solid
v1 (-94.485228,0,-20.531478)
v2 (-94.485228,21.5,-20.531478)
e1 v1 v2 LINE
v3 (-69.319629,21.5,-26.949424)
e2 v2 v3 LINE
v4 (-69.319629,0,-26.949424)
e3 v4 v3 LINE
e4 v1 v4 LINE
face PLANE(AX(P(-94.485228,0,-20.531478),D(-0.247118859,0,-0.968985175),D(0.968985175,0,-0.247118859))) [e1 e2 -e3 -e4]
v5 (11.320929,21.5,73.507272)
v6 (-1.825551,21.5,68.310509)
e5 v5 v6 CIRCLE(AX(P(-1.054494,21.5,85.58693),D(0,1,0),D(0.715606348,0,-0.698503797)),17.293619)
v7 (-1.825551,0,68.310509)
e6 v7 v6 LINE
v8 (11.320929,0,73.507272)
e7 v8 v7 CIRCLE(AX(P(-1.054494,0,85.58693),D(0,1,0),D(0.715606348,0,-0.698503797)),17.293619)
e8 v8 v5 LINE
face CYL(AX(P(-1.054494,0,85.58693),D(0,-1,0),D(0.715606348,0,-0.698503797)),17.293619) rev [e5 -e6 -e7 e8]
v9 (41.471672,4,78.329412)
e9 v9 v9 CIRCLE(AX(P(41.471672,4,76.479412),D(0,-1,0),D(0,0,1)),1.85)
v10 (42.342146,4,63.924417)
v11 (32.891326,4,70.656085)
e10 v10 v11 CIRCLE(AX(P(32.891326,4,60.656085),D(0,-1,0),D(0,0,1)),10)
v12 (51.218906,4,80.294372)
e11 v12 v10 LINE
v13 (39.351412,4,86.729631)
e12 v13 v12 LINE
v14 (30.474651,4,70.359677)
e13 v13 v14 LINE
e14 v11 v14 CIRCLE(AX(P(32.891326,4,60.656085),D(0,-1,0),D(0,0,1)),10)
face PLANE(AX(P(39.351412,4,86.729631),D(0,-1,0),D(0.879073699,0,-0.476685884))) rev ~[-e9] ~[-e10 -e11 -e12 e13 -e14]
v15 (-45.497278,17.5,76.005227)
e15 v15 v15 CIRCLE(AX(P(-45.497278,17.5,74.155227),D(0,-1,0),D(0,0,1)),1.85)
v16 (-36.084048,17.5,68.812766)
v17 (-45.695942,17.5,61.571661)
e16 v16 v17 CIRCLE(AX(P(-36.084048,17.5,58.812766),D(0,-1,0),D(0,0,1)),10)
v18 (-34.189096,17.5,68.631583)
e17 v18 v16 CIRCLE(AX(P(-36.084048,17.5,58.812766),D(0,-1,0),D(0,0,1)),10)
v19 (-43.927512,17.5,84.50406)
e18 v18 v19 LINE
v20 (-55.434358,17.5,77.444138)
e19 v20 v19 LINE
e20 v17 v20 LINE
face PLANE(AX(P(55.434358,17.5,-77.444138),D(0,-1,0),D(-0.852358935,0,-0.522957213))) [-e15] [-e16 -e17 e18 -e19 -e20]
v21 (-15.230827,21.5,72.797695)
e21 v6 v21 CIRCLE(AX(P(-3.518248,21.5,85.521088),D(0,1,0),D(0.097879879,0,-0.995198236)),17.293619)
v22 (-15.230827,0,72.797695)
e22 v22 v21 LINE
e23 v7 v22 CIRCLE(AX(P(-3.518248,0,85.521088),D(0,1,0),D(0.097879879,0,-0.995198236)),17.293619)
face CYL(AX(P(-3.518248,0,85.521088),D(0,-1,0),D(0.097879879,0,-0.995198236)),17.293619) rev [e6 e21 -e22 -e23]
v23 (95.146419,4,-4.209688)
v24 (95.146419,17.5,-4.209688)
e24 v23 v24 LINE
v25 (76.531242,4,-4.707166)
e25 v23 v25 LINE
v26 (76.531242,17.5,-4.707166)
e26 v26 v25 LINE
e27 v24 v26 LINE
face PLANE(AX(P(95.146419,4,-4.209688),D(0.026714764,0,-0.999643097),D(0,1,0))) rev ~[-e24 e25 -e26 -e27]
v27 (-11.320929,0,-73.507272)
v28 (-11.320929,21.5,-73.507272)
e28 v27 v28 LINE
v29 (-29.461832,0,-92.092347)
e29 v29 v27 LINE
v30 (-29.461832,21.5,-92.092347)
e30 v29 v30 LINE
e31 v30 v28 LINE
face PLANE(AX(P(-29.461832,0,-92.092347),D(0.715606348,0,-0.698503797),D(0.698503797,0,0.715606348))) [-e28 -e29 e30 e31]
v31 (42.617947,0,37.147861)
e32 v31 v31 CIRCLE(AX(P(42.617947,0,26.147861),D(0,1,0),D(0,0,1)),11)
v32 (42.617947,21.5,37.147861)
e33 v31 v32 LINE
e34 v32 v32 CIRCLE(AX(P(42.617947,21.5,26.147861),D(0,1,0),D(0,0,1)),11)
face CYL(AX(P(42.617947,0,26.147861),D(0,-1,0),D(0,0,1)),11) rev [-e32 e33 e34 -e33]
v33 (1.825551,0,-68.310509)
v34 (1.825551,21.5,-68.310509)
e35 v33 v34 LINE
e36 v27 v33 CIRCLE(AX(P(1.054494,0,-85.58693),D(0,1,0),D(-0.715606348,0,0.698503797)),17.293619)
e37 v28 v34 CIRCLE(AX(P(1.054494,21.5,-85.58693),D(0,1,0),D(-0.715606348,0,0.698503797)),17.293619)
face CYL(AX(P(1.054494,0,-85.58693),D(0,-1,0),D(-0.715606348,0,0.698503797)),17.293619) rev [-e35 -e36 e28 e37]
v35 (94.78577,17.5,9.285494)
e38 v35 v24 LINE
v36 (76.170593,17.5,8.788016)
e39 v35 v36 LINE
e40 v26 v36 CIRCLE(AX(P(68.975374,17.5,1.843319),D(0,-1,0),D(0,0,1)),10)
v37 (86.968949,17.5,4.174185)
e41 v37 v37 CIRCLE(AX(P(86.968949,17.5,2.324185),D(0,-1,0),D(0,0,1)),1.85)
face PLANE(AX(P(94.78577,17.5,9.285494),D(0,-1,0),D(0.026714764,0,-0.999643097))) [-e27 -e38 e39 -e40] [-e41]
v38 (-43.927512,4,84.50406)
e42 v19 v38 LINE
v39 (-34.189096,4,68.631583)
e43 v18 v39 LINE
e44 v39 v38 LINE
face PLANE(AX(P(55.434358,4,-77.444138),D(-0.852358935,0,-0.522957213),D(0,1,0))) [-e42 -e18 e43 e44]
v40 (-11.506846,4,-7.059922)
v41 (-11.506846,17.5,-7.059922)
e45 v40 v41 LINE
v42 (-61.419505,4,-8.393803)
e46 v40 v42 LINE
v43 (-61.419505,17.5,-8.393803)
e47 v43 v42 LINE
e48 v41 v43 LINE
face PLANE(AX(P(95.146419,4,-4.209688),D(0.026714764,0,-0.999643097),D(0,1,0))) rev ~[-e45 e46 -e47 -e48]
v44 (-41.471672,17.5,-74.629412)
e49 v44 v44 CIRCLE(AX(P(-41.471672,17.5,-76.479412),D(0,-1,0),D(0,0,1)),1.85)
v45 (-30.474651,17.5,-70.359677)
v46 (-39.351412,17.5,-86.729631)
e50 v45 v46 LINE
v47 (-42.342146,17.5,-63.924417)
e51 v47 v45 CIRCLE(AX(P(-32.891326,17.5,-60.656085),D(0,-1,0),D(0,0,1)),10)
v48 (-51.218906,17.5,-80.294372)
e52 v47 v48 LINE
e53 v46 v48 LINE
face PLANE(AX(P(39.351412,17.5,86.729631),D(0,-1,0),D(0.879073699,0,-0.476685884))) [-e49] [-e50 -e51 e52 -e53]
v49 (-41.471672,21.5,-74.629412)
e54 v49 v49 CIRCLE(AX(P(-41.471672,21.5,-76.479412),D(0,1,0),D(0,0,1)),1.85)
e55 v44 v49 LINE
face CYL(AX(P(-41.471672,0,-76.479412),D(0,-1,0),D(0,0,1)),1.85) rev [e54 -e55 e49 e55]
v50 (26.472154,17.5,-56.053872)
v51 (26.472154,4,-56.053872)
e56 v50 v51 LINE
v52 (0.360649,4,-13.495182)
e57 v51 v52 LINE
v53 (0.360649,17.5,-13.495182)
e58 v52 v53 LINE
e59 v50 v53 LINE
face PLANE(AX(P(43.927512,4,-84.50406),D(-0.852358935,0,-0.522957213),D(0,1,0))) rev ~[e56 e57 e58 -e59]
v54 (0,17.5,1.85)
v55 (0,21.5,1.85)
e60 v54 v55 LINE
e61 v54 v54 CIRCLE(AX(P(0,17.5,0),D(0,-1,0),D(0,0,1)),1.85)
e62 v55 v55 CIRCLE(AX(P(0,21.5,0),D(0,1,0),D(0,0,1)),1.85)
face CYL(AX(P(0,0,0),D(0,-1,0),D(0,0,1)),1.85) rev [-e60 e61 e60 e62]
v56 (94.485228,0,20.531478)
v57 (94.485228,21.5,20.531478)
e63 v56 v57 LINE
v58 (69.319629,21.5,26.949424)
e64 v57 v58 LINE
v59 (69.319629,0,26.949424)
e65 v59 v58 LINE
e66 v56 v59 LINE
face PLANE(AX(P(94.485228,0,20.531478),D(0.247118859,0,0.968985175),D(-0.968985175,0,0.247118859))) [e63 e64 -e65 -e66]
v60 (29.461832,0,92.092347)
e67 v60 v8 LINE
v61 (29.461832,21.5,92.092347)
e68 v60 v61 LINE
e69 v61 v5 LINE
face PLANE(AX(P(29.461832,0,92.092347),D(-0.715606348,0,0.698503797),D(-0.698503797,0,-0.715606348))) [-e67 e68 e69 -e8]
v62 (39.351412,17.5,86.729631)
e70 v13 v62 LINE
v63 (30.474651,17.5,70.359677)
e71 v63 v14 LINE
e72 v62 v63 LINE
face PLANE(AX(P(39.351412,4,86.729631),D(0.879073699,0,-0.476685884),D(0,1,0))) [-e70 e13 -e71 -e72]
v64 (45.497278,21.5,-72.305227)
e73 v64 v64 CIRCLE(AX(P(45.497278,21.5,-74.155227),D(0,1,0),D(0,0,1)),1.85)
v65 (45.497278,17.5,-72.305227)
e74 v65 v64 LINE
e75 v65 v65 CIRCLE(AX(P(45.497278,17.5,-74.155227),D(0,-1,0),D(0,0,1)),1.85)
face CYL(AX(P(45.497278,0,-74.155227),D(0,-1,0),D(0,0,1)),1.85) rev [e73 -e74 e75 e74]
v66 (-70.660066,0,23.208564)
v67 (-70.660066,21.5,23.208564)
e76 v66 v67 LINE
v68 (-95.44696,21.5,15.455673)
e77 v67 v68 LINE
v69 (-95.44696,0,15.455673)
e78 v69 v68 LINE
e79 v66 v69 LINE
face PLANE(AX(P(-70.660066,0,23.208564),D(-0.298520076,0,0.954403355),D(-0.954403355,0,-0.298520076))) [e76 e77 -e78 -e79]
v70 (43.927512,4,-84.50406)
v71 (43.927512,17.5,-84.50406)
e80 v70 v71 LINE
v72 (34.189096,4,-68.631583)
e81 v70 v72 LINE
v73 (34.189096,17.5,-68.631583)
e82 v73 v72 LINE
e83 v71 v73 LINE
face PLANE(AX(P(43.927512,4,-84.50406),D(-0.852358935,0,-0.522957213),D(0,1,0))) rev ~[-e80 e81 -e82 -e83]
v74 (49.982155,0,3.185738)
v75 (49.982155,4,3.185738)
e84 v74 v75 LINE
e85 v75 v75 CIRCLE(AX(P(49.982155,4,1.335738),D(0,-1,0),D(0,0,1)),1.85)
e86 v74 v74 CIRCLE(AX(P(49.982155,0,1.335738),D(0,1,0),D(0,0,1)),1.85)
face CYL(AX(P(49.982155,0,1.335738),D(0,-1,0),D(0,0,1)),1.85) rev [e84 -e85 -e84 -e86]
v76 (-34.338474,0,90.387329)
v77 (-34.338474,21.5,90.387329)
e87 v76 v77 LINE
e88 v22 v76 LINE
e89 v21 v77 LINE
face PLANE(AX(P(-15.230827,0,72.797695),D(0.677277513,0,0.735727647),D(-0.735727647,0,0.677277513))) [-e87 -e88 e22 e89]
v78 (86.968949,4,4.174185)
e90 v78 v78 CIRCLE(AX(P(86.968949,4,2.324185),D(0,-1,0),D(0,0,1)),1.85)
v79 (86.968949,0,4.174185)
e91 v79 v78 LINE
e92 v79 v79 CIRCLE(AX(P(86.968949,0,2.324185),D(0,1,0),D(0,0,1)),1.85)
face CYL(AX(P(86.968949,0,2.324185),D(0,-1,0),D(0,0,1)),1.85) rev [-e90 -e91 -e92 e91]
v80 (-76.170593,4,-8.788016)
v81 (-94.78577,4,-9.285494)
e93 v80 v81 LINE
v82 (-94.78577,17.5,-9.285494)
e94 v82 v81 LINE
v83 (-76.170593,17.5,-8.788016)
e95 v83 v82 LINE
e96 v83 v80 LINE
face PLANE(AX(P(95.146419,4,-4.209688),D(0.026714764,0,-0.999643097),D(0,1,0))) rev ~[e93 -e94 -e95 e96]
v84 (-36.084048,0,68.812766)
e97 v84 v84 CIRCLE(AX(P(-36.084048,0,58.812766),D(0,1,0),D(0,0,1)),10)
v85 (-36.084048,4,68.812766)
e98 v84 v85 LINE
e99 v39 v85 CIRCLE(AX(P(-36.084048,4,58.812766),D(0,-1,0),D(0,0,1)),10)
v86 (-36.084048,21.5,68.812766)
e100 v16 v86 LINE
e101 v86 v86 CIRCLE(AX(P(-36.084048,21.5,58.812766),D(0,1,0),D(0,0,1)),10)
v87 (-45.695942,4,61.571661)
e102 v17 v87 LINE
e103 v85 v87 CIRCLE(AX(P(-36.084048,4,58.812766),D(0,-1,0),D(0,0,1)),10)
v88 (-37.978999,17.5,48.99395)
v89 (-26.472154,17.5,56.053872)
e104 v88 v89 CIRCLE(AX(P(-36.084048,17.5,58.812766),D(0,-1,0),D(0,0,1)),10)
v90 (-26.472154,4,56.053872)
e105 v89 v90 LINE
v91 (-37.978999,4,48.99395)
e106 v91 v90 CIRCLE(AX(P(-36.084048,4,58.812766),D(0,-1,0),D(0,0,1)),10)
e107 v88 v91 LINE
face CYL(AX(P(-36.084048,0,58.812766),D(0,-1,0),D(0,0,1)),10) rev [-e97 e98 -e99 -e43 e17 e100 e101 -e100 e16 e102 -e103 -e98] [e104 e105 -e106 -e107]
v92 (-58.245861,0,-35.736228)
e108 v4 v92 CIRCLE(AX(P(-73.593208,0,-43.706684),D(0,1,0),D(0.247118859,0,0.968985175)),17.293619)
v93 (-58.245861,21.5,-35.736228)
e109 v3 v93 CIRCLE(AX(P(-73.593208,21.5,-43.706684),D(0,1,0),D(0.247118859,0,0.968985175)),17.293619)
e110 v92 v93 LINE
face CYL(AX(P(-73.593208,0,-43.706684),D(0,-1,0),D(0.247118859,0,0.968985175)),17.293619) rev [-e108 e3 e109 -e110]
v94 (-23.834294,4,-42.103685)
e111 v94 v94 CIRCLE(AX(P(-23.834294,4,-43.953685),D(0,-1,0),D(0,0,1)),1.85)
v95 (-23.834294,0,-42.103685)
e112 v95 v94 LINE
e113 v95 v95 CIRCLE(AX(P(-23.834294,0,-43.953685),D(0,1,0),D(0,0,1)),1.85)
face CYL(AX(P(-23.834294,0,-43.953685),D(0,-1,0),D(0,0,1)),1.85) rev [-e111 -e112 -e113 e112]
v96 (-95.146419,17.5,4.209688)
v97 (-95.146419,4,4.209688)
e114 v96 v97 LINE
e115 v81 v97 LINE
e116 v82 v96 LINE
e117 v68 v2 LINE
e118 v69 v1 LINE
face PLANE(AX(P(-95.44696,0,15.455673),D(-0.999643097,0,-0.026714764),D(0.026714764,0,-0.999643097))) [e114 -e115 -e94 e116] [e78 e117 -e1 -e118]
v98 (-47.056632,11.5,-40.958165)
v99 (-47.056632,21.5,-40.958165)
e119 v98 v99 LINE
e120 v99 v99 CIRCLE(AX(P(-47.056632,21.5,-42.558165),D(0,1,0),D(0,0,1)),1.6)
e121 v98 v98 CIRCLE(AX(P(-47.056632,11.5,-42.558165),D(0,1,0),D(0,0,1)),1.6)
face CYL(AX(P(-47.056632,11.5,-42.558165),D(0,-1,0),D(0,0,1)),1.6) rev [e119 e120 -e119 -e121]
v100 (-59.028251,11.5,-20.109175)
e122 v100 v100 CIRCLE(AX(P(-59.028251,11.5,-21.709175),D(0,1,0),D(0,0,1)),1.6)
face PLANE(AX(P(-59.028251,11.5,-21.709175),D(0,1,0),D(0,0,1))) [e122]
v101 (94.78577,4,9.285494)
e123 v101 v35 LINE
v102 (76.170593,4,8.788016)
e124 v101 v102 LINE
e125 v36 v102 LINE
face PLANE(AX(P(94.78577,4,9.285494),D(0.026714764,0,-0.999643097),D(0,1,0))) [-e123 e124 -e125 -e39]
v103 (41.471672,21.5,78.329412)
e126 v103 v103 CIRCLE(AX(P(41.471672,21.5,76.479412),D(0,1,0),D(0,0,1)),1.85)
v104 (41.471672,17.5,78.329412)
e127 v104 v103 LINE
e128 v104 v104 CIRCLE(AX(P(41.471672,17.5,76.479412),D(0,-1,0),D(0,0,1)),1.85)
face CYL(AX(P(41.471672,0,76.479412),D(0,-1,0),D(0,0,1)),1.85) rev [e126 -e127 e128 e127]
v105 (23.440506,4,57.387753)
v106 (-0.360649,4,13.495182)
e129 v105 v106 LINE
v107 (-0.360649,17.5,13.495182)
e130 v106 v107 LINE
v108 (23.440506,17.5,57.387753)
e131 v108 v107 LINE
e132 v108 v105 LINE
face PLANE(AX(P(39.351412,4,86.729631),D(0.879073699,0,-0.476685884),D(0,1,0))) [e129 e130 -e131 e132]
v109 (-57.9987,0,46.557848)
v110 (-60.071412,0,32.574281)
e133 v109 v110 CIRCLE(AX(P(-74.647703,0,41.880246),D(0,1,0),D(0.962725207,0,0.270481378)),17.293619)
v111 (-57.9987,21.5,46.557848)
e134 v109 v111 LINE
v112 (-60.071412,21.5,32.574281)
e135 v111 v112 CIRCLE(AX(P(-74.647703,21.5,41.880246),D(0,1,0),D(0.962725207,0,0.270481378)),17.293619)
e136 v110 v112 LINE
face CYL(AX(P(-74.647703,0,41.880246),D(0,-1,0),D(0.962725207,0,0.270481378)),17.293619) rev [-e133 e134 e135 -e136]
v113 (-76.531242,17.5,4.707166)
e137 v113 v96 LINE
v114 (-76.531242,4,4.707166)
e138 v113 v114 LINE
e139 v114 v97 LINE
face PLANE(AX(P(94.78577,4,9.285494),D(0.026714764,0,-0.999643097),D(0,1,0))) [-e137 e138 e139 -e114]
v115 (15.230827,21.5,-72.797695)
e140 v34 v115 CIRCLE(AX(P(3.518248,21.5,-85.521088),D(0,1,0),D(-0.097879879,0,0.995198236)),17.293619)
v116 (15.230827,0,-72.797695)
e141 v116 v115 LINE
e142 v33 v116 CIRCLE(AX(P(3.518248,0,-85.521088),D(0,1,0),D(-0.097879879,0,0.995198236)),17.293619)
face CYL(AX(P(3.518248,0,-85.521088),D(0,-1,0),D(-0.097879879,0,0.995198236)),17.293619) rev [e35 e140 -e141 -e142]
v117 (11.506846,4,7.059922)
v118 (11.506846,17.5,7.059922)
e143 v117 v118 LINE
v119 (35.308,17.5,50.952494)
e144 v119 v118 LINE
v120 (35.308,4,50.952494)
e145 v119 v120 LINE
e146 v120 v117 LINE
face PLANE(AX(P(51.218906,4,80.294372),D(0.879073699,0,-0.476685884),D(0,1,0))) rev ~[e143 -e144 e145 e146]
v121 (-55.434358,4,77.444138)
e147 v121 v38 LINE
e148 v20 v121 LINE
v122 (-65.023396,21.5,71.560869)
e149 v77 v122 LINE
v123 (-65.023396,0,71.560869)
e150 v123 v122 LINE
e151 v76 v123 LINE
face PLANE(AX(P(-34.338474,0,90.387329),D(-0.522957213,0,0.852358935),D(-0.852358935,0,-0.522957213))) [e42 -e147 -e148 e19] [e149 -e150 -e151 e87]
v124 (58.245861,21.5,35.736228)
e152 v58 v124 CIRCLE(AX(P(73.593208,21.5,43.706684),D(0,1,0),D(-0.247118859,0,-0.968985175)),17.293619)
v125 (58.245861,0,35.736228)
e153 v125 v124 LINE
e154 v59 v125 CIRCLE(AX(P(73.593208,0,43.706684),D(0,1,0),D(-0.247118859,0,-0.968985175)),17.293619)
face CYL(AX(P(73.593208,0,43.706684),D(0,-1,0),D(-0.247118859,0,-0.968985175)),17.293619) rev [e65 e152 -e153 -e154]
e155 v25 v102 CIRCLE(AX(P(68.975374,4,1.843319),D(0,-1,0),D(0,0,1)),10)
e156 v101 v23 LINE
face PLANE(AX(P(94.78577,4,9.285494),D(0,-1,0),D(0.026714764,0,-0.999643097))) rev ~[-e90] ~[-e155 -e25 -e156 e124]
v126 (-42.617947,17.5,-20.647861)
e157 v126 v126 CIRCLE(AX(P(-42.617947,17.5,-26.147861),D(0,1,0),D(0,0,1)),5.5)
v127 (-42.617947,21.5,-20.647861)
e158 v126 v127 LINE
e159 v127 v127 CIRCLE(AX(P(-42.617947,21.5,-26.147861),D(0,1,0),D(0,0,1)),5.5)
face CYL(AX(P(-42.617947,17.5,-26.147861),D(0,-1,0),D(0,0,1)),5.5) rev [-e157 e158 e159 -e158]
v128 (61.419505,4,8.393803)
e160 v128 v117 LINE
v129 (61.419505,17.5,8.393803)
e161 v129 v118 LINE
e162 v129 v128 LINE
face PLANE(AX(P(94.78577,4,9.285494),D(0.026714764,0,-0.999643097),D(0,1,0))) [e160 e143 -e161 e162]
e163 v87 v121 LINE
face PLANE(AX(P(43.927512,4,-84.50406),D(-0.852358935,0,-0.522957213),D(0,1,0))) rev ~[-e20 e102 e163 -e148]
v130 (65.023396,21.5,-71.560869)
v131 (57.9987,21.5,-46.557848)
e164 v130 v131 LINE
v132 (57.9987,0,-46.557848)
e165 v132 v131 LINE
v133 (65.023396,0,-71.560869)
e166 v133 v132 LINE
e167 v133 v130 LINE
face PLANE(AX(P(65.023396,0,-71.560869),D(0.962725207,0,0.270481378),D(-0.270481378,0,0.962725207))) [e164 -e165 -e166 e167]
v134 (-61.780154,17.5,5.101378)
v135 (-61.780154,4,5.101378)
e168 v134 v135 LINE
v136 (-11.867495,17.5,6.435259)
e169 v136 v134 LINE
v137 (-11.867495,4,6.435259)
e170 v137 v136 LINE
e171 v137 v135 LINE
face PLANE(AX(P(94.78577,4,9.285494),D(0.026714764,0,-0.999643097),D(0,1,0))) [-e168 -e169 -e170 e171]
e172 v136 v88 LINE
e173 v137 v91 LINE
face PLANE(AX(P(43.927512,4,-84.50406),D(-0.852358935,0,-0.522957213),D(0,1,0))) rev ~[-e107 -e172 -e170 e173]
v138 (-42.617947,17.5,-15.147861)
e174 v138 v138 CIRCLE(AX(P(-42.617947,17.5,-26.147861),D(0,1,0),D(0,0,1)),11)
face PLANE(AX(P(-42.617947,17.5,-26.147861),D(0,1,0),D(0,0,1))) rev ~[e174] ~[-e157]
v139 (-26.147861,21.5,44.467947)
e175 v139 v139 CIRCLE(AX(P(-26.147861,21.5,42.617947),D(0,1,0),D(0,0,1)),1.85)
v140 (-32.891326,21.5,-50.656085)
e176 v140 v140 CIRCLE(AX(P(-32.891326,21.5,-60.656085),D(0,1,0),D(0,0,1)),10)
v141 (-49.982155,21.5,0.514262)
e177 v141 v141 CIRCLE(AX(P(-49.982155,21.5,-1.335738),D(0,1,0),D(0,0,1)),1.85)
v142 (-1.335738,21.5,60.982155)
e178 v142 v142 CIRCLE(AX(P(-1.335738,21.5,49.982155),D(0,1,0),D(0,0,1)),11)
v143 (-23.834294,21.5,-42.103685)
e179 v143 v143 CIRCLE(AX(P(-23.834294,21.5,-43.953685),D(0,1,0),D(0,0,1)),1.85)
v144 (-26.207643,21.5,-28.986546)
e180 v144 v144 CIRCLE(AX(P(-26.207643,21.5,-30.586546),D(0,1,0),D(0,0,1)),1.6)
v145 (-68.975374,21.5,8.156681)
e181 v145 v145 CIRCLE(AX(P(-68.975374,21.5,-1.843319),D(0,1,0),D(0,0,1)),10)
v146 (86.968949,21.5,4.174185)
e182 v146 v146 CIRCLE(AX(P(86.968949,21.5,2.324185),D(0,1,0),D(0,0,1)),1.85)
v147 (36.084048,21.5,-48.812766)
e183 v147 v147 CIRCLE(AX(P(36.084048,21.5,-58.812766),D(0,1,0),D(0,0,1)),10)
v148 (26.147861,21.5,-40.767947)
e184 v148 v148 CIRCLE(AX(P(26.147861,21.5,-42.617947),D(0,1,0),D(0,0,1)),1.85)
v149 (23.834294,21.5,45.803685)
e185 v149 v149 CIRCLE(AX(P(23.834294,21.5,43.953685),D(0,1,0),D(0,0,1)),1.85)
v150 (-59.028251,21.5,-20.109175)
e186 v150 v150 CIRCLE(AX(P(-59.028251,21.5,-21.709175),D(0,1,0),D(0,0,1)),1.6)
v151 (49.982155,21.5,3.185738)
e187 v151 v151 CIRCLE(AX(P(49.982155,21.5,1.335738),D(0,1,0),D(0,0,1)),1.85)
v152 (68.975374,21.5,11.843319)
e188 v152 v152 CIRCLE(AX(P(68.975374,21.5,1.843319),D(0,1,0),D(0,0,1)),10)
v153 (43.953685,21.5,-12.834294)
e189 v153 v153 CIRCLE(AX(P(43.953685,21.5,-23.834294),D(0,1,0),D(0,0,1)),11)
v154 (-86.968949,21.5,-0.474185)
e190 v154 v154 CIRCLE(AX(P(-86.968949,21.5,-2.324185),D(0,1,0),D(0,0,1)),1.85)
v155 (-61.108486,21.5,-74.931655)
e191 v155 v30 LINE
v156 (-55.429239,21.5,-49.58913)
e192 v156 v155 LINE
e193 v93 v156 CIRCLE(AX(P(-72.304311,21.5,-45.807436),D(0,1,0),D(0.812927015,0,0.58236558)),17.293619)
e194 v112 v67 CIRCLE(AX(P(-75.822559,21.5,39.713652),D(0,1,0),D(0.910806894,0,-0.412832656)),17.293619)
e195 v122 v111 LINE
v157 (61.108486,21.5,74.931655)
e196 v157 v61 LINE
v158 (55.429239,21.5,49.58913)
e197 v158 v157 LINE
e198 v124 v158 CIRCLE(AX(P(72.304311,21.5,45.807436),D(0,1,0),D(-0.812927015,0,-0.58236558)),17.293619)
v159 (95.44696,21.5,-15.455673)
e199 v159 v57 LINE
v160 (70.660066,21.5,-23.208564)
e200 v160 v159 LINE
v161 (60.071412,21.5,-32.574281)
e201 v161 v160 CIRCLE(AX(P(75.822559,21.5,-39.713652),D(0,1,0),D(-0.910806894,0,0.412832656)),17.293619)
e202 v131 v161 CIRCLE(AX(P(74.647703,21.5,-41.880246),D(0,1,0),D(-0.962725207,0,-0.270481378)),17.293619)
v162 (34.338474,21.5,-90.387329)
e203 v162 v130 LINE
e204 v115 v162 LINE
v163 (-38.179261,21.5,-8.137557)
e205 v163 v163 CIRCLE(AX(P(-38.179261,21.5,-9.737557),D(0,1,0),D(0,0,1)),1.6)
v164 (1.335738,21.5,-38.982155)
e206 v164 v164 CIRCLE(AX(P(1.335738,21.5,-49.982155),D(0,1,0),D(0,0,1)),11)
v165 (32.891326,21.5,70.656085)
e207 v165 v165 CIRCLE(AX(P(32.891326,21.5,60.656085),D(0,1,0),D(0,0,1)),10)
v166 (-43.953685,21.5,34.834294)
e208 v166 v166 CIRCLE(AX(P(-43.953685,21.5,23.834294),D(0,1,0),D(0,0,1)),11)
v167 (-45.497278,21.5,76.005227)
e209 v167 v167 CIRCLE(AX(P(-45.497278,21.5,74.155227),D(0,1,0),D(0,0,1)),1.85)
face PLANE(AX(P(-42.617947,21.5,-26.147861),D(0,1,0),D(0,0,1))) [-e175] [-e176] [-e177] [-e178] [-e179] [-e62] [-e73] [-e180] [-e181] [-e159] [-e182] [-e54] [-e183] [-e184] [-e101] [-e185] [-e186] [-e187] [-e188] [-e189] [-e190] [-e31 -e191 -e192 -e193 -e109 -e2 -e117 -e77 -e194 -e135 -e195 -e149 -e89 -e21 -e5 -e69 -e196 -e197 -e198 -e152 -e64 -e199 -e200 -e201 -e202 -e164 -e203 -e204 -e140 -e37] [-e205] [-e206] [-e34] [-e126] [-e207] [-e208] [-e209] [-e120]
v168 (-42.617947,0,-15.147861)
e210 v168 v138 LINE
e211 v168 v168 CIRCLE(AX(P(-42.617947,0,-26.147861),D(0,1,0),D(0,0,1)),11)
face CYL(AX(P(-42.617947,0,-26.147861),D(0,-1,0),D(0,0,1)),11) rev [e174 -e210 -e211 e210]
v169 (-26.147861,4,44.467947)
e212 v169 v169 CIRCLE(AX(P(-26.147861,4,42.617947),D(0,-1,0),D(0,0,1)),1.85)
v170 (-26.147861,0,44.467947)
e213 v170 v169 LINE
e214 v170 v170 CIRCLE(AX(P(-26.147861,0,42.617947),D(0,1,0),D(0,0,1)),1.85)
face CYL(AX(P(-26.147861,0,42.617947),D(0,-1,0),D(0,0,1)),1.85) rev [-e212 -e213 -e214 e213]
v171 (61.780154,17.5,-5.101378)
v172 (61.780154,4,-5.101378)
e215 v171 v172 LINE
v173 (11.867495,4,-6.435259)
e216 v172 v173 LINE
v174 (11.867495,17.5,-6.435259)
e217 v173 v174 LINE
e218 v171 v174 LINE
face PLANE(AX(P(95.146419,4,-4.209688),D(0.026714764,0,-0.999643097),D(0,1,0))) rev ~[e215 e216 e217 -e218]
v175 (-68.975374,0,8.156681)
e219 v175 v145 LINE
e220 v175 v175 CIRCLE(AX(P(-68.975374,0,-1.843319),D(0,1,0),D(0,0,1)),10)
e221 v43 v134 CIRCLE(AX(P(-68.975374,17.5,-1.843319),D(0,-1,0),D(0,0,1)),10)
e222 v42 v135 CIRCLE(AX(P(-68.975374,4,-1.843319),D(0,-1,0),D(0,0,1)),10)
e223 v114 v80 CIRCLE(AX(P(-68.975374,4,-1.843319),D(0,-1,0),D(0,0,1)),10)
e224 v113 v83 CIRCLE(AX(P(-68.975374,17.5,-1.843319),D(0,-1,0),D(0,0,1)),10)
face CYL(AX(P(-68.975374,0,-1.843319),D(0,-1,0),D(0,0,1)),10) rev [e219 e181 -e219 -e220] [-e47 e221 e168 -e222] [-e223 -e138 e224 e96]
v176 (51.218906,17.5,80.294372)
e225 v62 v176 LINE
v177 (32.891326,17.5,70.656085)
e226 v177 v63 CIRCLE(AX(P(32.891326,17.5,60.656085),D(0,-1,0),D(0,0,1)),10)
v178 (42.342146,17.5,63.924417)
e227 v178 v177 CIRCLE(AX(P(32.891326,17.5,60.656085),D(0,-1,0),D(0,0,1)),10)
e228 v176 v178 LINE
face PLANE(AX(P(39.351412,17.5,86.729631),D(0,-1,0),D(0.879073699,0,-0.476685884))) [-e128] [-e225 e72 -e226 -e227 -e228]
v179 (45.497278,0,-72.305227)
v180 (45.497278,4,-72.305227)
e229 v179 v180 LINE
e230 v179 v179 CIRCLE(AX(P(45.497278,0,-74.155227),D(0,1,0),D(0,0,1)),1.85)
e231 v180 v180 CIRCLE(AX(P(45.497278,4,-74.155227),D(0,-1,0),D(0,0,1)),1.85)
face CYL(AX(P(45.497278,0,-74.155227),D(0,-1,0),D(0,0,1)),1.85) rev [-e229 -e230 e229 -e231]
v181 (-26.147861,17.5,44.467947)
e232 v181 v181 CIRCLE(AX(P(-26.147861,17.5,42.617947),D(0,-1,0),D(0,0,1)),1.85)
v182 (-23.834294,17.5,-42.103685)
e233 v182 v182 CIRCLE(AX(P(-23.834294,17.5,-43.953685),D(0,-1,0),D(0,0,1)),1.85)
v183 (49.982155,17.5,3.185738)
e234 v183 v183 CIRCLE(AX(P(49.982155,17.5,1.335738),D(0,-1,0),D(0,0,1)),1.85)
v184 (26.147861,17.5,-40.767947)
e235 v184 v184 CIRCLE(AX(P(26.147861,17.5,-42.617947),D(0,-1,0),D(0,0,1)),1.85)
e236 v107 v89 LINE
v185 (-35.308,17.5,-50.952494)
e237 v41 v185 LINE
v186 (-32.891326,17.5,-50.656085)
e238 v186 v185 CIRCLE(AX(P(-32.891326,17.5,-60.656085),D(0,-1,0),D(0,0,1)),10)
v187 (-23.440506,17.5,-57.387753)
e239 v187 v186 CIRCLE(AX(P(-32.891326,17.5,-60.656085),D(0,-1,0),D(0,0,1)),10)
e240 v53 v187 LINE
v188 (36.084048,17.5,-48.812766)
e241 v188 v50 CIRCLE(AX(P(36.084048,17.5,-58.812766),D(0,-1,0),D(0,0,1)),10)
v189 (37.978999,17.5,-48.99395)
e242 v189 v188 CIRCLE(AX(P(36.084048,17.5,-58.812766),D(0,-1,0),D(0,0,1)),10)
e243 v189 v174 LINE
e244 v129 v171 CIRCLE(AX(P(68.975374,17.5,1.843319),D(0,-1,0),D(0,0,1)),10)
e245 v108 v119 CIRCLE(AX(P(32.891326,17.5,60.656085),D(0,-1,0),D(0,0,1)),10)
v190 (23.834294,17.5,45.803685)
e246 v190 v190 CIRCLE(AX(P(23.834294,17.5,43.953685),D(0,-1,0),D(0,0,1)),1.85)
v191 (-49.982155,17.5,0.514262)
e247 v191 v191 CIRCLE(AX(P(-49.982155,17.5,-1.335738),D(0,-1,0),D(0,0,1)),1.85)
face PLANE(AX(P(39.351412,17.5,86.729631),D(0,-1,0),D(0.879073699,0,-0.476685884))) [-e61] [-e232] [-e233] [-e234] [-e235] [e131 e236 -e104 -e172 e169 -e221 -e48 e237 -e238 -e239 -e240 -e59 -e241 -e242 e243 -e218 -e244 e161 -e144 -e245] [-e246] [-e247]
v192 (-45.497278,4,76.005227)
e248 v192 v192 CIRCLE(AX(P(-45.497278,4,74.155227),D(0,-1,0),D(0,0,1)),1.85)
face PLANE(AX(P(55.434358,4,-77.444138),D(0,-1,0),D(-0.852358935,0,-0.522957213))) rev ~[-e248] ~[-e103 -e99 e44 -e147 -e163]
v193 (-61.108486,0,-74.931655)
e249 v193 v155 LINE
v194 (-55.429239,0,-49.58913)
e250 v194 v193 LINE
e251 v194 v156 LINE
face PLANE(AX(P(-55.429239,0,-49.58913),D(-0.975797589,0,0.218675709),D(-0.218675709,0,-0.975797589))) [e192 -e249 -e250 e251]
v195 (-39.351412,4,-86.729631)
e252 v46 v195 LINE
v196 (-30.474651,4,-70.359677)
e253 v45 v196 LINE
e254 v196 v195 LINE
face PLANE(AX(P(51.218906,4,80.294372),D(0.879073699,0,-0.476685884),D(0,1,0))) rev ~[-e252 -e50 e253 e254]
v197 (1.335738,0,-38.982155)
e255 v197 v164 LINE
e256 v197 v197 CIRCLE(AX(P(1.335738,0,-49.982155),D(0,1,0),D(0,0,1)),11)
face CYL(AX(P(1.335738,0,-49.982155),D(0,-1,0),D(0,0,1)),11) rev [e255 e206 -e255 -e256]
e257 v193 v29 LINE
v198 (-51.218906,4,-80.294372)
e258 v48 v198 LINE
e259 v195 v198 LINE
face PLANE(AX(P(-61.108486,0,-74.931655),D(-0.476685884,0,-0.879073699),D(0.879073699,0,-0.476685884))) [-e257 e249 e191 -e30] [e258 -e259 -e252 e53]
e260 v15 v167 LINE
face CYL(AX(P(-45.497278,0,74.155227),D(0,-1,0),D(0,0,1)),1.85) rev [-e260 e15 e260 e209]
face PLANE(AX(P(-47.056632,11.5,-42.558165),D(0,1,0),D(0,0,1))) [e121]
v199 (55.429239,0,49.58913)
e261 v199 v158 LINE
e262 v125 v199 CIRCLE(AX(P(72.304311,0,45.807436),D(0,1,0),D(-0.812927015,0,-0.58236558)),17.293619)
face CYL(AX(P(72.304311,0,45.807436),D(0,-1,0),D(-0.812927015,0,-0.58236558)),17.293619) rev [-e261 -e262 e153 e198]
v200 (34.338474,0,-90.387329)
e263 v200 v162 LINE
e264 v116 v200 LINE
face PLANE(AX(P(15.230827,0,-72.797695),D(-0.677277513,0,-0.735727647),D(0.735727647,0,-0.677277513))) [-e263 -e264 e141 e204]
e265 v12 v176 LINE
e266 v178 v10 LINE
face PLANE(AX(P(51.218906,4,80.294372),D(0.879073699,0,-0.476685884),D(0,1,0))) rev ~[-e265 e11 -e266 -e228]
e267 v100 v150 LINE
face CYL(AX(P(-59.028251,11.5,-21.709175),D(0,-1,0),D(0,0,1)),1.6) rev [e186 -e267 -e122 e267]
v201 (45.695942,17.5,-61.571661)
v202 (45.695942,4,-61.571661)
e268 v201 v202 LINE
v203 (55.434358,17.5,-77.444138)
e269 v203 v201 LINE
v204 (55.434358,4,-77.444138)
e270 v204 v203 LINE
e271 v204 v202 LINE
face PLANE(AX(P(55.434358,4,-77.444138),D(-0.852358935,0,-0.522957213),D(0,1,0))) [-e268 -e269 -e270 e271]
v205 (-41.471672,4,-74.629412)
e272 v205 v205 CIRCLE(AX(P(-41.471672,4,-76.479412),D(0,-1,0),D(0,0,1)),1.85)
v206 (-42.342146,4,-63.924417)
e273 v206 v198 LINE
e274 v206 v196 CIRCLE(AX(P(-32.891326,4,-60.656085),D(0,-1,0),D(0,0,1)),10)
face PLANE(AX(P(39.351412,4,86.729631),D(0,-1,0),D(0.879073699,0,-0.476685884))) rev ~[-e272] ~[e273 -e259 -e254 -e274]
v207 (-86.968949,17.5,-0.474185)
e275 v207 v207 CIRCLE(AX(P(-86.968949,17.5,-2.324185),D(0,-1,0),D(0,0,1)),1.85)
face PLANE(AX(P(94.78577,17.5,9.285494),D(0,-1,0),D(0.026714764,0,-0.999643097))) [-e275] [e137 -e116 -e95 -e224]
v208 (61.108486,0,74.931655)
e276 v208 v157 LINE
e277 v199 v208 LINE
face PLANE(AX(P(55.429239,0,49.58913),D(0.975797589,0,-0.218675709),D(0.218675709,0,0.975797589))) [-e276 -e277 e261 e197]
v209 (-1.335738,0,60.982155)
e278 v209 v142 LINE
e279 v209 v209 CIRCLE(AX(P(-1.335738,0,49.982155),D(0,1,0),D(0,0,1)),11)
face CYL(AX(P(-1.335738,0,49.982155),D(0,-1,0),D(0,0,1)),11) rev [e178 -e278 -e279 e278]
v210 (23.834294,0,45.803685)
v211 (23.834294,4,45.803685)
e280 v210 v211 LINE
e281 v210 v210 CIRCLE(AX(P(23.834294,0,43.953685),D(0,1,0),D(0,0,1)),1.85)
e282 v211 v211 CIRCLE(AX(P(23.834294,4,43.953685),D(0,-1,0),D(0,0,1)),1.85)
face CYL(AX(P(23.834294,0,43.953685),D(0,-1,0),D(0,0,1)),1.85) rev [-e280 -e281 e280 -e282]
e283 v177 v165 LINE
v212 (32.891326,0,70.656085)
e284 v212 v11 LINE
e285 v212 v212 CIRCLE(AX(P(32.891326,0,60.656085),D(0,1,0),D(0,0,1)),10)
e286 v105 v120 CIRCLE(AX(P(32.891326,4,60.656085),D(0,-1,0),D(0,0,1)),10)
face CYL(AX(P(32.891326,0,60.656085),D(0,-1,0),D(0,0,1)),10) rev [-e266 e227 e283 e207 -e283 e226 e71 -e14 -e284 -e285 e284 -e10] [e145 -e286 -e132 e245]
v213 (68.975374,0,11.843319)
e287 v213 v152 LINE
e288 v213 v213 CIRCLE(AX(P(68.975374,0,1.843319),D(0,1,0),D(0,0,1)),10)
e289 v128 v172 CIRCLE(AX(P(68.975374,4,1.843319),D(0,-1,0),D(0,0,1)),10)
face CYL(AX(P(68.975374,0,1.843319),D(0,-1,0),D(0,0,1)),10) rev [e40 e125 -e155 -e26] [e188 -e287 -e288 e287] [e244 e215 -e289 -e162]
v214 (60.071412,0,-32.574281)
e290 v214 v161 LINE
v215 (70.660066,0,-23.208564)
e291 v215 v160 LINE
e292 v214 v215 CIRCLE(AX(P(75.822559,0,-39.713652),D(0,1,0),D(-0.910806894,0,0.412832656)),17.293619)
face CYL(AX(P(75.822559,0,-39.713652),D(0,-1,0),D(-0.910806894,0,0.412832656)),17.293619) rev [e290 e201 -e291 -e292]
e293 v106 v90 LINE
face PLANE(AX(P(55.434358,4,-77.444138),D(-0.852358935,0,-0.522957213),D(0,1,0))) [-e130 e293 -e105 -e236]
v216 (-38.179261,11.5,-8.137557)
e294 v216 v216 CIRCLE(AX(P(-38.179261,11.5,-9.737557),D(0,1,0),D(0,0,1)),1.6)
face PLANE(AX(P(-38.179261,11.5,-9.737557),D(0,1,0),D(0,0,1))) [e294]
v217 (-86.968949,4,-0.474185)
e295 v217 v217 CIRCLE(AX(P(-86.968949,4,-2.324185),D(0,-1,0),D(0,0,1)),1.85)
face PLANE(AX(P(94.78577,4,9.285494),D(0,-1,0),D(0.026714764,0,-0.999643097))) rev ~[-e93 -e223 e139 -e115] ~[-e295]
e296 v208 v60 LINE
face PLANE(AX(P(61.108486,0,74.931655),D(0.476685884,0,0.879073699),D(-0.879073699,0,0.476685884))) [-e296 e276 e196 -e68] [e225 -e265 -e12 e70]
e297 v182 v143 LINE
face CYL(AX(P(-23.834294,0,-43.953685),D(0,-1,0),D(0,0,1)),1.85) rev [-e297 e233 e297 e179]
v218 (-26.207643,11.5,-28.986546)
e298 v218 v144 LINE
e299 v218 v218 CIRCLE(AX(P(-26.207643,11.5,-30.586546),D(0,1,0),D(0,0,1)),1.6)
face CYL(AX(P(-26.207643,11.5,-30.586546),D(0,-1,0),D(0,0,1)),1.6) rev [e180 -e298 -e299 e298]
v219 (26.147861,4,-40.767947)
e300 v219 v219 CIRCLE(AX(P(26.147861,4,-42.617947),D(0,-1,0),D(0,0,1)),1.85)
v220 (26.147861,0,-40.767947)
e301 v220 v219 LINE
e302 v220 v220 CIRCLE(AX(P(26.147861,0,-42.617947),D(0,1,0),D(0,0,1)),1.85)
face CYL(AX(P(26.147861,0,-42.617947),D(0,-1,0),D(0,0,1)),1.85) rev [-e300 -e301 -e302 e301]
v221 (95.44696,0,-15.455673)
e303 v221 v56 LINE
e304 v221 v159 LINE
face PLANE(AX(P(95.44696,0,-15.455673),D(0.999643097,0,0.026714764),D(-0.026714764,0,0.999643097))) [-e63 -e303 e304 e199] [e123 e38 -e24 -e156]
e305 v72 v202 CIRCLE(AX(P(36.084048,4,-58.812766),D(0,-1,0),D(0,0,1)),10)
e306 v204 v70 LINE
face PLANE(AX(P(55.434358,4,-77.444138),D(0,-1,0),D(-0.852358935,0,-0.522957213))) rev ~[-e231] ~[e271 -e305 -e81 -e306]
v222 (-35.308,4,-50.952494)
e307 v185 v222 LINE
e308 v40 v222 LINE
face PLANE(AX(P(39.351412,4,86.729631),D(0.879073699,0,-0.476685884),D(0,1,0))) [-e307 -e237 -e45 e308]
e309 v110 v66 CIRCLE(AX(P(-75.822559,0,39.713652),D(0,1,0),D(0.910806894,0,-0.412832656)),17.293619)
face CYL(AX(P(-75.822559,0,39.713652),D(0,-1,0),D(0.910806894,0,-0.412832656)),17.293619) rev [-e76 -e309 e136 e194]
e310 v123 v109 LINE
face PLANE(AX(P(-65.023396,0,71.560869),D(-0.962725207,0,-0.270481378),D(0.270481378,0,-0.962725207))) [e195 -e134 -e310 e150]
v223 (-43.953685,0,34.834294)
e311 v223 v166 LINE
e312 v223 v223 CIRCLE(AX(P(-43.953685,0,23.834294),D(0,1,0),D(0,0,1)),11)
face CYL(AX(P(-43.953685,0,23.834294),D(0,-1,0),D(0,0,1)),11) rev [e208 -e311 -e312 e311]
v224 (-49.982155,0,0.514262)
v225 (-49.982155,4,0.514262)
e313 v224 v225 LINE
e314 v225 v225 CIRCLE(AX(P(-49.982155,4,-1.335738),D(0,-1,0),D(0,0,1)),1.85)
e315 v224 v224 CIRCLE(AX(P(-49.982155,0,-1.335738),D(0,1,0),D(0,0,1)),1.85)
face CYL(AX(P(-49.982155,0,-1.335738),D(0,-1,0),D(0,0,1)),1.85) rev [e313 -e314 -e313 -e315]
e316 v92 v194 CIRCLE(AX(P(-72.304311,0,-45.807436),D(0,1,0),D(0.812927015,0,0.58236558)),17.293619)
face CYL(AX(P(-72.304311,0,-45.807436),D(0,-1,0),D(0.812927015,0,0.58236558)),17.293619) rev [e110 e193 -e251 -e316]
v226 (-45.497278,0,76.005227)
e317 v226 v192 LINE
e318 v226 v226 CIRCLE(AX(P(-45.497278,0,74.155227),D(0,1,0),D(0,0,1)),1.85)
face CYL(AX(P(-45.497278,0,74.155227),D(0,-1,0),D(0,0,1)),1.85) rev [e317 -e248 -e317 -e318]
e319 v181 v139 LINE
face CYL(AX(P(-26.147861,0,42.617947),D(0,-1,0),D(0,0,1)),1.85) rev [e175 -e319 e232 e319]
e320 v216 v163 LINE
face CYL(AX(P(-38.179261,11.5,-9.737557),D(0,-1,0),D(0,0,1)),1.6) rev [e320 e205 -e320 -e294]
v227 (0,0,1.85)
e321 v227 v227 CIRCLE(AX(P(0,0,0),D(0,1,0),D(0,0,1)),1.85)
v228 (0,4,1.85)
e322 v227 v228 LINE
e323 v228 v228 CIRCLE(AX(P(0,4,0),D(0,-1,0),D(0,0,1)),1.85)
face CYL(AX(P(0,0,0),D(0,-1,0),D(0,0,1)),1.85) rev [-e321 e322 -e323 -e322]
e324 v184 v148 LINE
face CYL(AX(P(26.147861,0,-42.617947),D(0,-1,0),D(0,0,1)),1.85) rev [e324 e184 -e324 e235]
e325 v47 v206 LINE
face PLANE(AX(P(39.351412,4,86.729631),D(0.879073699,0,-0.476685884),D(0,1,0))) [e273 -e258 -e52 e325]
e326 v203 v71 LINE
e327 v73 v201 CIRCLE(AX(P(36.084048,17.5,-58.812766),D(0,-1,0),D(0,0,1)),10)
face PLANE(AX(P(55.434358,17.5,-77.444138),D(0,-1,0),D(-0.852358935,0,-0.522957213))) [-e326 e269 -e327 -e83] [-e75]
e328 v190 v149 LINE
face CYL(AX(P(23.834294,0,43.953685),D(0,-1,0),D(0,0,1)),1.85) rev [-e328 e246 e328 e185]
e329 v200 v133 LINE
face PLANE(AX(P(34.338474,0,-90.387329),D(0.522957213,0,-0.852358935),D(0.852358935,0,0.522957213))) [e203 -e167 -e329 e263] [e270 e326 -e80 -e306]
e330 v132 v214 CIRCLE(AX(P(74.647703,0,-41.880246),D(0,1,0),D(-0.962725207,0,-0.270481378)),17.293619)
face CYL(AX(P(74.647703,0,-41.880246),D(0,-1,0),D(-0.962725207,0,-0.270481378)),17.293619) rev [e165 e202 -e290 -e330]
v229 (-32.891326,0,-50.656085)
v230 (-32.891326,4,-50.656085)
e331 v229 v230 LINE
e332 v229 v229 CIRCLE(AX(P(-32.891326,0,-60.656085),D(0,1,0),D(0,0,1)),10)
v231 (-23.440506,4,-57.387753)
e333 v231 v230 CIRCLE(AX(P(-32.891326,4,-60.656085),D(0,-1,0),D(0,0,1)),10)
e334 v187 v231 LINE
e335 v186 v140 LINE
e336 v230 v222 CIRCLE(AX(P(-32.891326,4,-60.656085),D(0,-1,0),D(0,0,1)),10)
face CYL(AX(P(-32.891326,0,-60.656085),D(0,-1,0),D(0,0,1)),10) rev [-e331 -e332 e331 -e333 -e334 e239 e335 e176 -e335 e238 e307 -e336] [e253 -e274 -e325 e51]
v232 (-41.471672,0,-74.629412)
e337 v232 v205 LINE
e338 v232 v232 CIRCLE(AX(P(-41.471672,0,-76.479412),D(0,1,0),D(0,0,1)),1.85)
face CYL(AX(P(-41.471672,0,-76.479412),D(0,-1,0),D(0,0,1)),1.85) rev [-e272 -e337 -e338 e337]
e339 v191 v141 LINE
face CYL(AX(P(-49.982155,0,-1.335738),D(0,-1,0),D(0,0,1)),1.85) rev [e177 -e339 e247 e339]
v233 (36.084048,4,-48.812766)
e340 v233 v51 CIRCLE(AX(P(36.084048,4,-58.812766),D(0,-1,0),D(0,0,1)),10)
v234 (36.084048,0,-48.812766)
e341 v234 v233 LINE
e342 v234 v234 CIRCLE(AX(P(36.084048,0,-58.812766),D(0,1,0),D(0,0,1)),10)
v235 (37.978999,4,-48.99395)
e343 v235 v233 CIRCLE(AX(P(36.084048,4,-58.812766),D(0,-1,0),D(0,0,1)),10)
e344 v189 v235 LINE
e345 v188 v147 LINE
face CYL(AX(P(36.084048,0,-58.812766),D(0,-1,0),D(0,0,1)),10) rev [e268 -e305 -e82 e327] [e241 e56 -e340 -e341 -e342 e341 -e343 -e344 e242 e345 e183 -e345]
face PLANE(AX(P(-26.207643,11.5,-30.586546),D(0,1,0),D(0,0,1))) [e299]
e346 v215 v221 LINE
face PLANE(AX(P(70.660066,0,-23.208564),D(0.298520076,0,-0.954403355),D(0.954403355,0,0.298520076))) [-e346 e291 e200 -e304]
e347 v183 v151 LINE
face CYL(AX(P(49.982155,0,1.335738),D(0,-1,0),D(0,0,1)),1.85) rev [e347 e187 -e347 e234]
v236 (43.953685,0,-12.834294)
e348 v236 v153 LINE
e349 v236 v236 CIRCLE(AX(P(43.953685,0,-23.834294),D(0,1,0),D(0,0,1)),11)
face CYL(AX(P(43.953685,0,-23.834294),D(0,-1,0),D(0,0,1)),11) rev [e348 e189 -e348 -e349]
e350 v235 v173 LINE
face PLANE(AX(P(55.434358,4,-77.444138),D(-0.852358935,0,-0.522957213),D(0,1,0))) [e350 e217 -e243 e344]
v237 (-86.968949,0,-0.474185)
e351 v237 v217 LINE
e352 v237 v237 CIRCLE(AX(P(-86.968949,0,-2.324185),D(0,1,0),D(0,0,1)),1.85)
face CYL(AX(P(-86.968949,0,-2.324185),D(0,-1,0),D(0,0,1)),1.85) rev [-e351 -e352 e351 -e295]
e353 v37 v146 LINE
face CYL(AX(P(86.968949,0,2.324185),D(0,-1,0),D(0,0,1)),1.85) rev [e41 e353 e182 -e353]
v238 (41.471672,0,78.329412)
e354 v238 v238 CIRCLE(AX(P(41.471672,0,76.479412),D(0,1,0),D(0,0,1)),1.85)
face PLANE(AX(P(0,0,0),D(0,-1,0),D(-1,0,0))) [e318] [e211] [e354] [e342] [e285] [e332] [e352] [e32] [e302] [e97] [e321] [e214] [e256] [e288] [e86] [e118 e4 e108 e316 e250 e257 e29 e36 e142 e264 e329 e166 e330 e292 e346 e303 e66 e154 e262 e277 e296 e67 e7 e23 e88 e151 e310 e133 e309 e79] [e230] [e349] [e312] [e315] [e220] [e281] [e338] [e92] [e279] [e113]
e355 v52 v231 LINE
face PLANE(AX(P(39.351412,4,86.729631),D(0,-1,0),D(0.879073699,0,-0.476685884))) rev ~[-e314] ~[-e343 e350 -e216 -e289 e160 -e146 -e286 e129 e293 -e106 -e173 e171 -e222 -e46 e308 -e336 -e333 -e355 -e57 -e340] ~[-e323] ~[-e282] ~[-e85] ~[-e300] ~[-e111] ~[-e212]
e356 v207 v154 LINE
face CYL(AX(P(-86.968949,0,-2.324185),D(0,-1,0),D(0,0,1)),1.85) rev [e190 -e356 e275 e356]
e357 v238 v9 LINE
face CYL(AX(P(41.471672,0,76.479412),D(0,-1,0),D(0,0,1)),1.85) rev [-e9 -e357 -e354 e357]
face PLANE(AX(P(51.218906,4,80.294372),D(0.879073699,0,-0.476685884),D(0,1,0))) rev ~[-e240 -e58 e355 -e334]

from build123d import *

# Parameters (mm, degrees)
CROQUIS2_R              = 1.85
CROQUIS2_R_2            = 10
CROQUIS2_R_3            = 11
SALIENTE_EXTRUIR1_DEPTH = 21.5
CROQUIS3_W              = 13.5
CROQUIS3_H              = 13.5
CORTAR_EXTRUIR1_DEPTH   = 227.063412752
MATRIZC1_COUNT          = 6
SALIENTE_EXTRUIR2_START = -4
CROQUIS4_R              = 11
CROQUIS4_R_2            = 5.5
SALIENTE_EXTRUIR2_DEPTH = 4
CORTAR_EXTRUIR2_START   = -10
CROQUIS5_R              = 1.6
CROQUIS5_R_2            = 5.5
CORTAR_EXTRUIR2_DEPTH   = 10


with BuildPart() as part:
    # Croquis2 → Saliente-Extruir1 (new body)
    with BuildSketch(Plane(origin=(0, 0, 0), x_dir=(1, 0, 0), z_dir=(0, 1, 0))):
        with BuildLine():
            Line((34.338474425, 90.387328615), (65.023396068, 71.560868943))
            Line((65.023396068, 71.560868943), (57.99870039, 46.557847845))
            ThreePointArc((57.99870039, 46.557847845), (57.540985683, 39.344606317), (60.071411753, 32.574281363))
            ThreePointArc((60.071411753, 32.574281363), (64.365061572, 26.760080874), (70.66006642, 23.20856429))
            Line((70.66006642, 23.20856429), (95.446959973, 15.455673128))
            Line((95.446959973, 15.455673128), (94.485228455, -20.531478364))
            Line((94.485228455, -20.531478364), (69.319629174, -26.949424002))
            ThreePointArc((69.319629174, -26.949424002), (62.843921414, -30.159652201), (58.245861047, -35.736227938))
            ThreePointArc((58.245861047, -35.736227938), (55.357440631, -42.361738001), (55.42923947, -49.589130408))
            Line((55.42923947, -49.589130408), (61.108485548, -74.931655487))
            Line((61.108485548, -74.931655487), (29.461832387, -92.092347306))
            Line((29.461832387, -92.092347306), (11.320928784, -73.507271847))
            ThreePointArc((11.320928784, -73.507271847), (5.302935731, -69.504258519), (-1.825550706, -68.310509301))
            ThreePointArc((-1.825550706, -68.310509301), (-9.007620942, -69.121818875), (-15.23082695, -72.797694698))
            Line((-15.23082695, -72.797694698), (-34.338474425, -90.387328615))
            Line((-34.338474425, -90.387328615), (-65.023396068, -71.560868943))
            Line((-65.023396068, -71.560868943), (-57.99870039, -46.557847845))
            ThreePointArc((-57.99870039, -46.557847845), (-57.540985683, -39.344606317), (-60.071411753, -32.574281363))
            ThreePointArc((-60.071411753, -32.574281363), (-64.365061572, -26.760080874), (-70.66006642, -23.20856429))
            Line((-70.66006642, -23.20856429), (-95.446959973, -15.455673128))
            Line((-95.446959973, -15.455673128), (-94.485228455, 20.531478364))
            Line((-94.485228455, 20.531478364), (-69.319629174, 26.949424002))
            ThreePointArc((-69.319629174, 26.949424002), (-62.843921414, 30.159652201), (-58.245861047, 35.736227938))
            ThreePointArc((-58.245861047, 35.736227938), (-55.357440631, 42.361738001), (-55.42923947, 49.589130408))
            Line((-55.42923947, 49.589130408), (-61.108485548, 74.931655487))
            Line((-61.108485548, 74.931655487), (-29.461832387, 92.092347306))
            Line((-29.461832387, 92.092347306), (-11.320928784, 73.507271847))
            ThreePointArc((-11.320928784, 73.507271847), (-5.302935731, 69.504258519), (1.825550706, 68.310509301))
            ThreePointArc((1.825550706, 68.310509301), (9.007620942, 69.121818875), (15.23082695, 72.797694698))
            Line((15.23082695, 72.797694698), (34.338474425, 90.387328615))
        make_face()
        with Locations(Location((45.497277541, 74.155227303, 0), (0, 0, 270))):
            Circle(CROQUIS2_R, mode=Mode.SUBTRACT)
        with Locations(Location((26.147860656, 42.617946726, 0), (0, 0, 270))):
            Circle(CROQUIS2_R, mode=Mode.SUBTRACT)
        with Locations(Location((36.084047705, 58.812766481, 0), (0, 0, 270))):
            Circle(CROQUIS2_R_2, mode=Mode.SUBTRACT)
        with Locations(Location((0, 0, 0), (0, 0, 270))):
            Circle(CROQUIS2_R, mode=Mode.SUBTRACT)
        with Locations(Location((43.953684946, 23.834294194, 0), (0, 0, 270))):
            Circle(CROQUIS2_R_3, mode=Mode.SUBTRACT)
        with Locations(Location((68.975373692, -1.843318743, 0), (0, 0, 270))):
            Circle(CROQUIS2_R_2, mode=Mode.SUBTRACT)
        with Locations(Location((86.968949438, -2.324184502, 0), (0, 0, 270))):
            Circle(CROQUIS2_R, mode=Mode.SUBTRACT)
        with Locations(Location((49.98215485, -1.33573822, 0), (0, 0, 270))):
            Circle(CROQUIS2_R, mode=Mode.SUBTRACT)
        with Locations(Location((42.617946726, -26.147860656, 0), (0, 0, 270))):
            Circle(CROQUIS2_R_3, mode=Mode.SUBTRACT)
        with Locations(Location((32.891325987, -60.656085225, 0), (0, 0, 270))):
            Circle(CROQUIS2_R_2, mode=Mode.SUBTRACT)
        with Locations(Location((41.471671897, -76.479411805, 0), (0, 0, 270))):
            Circle(CROQUIS2_R, mode=Mode.SUBTRACT)
        with Locations(Location((23.834294194, -43.953684946, 0), (0, 0, 270))):
            Circle(CROQUIS2_R, mode=Mode.SUBTRACT)
        with Locations(Location((-1.33573822, -49.98215485, 0), (0, 0, 270))):
            Circle(CROQUIS2_R_3, mode=Mode.SUBTRACT)
        with Locations(Location((-36.084047705, -58.812766481, 0), (0, 0, 270))):
            Circle(CROQUIS2_R_2, mode=Mode.SUBTRACT)
        with Locations(Location((-45.497277541, -74.155227303, 0), (0, 0, 270))):
            Circle(CROQUIS2_R, mode=Mode.SUBTRACT)
        with Locations(Location((-26.147860656, -42.617946726, 0), (0, 0, 270))):
            Circle(CROQUIS2_R, mode=Mode.SUBTRACT)
        with Locations(Location((-43.953684946, -23.834294194, 0), (0, 0, 270))):
            Circle(CROQUIS2_R_3, mode=Mode.SUBTRACT)
        with Locations(Location((-68.975373692, 1.843318743, 0), (0, 0, 270))):
            Circle(CROQUIS2_R_2, mode=Mode.SUBTRACT)
        with Locations(Location((-86.968949438, 2.324184502, 0), (0, 0, 270))):
            Circle(CROQUIS2_R, mode=Mode.SUBTRACT)
        with Locations(Location((-49.98215485, 1.33573822, 0), (0, 0, 270))):
            Circle(CROQUIS2_R, mode=Mode.SUBTRACT)
        with Locations(Location((-42.617946726, 26.147860656, 0), (0, 0, 270))):
            Circle(CROQUIS2_R_3, mode=Mode.SUBTRACT)
        with Locations(Location((-32.891325987, 60.656085225, 0), (0, 0, 270))):
            Circle(CROQUIS2_R_2, mode=Mode.SUBTRACT)
        with Locations(Location((-41.471671897, 76.479411805, 0), (0, 0, 270))):
            Circle(CROQUIS2_R, mode=Mode.SUBTRACT)
        with Locations(Location((-23.834294194, 43.953684946, 0), (0, 0, 270))):
            Circle(CROQUIS2_R, mode=Mode.SUBTRACT)
        with Locations(Location((1.33573822, 49.98215485, 0), (0, 0, 270))):
            Circle(CROQUIS2_R_3, mode=Mode.SUBTRACT)
    extrude(amount=SALIENTE_EXTRUIR1_DEPTH)

    # Croquis3 → Cortar-Extruir1 (cut, through all)
    with BuildSketch(Plane(origin=(45.285158968, 0, 83.512001397), x_dir=(0.8790736989108549, 0, -0.4766858838723754), z_dir=(0.4766858838723755, 0, 0.879073698910855))):
        with Locations((0, 10.75)):
            Rectangle(CROQUIS3_W, CROQUIS3_H)
    cortar_extruir1 = extrude(amount=-CORTAR_EXTRUIR1_DEPTH, mode=Mode.SUBTRACT)

    # MatrizC1: Cortar-Extruir1 ×6 about axis
    matrizc1_axis = Axis((0, 0, 0), (0, 1, 0))
    for i in range(1, MATRIZC1_COUNT):
        add(cortar_extruir1.rotate(matrizc1_axis, i * 360 / MATRIZC1_COUNT), mode=Mode.SUBTRACT)

    # Croquis4 → Saliente-Extruir2 (add)
    with BuildSketch(Plane(origin=(0, 21.5, 0), x_dir=(1, 0, 0), z_dir=(0, 1, 0)).offset(SALIENTE_EXTRUIR2_START)):
        with Locations(Location((-42.617946726, 26.147860656, 0), (0, 0, 270))):
            Circle(CROQUIS4_R)
        with Locations(Location((-42.617946726, 26.147860656, 0), (0, 0, 270))):
            Circle(CROQUIS4_R_2, mode=Mode.SUBTRACT)
    extrude(amount=SALIENTE_EXTRUIR2_DEPTH)

    # Croquis5 → Cortar-Extruir2 (cut)
    with BuildSketch(Plane(origin=(0, 21.5, 0), x_dir=(1, 0, 0), z_dir=(0, 1, 0)).offset(CORTAR_EXTRUIR2_START)):
        with Locations(Location((-47.056631996, 42.558164525, 0), (0, 0, 270))):
            Circle(CROQUIS5_R)
        with Locations(Location((-42.617946726, 26.147860656, 0), (0, 0, 270))):
            Circle(CROQUIS5_R_2)
        with Locations(Location((-26.207642857, 30.586545927, 0), (0, 0, 270))):
            Circle(CROQUIS5_R)
        with Locations(Location((-38.179261455, 9.737556787, 0), (0, 0, 270))):
            Circle(CROQUIS5_R)
        with Locations(Location((-59.028250595, 21.709175385, 0), (0, 0, 270))):
            Circle(CROQUIS5_R)
    extrude(amount=CORTAR_EXTRUIR2_DEPTH, mode=Mode.SUBTRACT)


solid = part.part
